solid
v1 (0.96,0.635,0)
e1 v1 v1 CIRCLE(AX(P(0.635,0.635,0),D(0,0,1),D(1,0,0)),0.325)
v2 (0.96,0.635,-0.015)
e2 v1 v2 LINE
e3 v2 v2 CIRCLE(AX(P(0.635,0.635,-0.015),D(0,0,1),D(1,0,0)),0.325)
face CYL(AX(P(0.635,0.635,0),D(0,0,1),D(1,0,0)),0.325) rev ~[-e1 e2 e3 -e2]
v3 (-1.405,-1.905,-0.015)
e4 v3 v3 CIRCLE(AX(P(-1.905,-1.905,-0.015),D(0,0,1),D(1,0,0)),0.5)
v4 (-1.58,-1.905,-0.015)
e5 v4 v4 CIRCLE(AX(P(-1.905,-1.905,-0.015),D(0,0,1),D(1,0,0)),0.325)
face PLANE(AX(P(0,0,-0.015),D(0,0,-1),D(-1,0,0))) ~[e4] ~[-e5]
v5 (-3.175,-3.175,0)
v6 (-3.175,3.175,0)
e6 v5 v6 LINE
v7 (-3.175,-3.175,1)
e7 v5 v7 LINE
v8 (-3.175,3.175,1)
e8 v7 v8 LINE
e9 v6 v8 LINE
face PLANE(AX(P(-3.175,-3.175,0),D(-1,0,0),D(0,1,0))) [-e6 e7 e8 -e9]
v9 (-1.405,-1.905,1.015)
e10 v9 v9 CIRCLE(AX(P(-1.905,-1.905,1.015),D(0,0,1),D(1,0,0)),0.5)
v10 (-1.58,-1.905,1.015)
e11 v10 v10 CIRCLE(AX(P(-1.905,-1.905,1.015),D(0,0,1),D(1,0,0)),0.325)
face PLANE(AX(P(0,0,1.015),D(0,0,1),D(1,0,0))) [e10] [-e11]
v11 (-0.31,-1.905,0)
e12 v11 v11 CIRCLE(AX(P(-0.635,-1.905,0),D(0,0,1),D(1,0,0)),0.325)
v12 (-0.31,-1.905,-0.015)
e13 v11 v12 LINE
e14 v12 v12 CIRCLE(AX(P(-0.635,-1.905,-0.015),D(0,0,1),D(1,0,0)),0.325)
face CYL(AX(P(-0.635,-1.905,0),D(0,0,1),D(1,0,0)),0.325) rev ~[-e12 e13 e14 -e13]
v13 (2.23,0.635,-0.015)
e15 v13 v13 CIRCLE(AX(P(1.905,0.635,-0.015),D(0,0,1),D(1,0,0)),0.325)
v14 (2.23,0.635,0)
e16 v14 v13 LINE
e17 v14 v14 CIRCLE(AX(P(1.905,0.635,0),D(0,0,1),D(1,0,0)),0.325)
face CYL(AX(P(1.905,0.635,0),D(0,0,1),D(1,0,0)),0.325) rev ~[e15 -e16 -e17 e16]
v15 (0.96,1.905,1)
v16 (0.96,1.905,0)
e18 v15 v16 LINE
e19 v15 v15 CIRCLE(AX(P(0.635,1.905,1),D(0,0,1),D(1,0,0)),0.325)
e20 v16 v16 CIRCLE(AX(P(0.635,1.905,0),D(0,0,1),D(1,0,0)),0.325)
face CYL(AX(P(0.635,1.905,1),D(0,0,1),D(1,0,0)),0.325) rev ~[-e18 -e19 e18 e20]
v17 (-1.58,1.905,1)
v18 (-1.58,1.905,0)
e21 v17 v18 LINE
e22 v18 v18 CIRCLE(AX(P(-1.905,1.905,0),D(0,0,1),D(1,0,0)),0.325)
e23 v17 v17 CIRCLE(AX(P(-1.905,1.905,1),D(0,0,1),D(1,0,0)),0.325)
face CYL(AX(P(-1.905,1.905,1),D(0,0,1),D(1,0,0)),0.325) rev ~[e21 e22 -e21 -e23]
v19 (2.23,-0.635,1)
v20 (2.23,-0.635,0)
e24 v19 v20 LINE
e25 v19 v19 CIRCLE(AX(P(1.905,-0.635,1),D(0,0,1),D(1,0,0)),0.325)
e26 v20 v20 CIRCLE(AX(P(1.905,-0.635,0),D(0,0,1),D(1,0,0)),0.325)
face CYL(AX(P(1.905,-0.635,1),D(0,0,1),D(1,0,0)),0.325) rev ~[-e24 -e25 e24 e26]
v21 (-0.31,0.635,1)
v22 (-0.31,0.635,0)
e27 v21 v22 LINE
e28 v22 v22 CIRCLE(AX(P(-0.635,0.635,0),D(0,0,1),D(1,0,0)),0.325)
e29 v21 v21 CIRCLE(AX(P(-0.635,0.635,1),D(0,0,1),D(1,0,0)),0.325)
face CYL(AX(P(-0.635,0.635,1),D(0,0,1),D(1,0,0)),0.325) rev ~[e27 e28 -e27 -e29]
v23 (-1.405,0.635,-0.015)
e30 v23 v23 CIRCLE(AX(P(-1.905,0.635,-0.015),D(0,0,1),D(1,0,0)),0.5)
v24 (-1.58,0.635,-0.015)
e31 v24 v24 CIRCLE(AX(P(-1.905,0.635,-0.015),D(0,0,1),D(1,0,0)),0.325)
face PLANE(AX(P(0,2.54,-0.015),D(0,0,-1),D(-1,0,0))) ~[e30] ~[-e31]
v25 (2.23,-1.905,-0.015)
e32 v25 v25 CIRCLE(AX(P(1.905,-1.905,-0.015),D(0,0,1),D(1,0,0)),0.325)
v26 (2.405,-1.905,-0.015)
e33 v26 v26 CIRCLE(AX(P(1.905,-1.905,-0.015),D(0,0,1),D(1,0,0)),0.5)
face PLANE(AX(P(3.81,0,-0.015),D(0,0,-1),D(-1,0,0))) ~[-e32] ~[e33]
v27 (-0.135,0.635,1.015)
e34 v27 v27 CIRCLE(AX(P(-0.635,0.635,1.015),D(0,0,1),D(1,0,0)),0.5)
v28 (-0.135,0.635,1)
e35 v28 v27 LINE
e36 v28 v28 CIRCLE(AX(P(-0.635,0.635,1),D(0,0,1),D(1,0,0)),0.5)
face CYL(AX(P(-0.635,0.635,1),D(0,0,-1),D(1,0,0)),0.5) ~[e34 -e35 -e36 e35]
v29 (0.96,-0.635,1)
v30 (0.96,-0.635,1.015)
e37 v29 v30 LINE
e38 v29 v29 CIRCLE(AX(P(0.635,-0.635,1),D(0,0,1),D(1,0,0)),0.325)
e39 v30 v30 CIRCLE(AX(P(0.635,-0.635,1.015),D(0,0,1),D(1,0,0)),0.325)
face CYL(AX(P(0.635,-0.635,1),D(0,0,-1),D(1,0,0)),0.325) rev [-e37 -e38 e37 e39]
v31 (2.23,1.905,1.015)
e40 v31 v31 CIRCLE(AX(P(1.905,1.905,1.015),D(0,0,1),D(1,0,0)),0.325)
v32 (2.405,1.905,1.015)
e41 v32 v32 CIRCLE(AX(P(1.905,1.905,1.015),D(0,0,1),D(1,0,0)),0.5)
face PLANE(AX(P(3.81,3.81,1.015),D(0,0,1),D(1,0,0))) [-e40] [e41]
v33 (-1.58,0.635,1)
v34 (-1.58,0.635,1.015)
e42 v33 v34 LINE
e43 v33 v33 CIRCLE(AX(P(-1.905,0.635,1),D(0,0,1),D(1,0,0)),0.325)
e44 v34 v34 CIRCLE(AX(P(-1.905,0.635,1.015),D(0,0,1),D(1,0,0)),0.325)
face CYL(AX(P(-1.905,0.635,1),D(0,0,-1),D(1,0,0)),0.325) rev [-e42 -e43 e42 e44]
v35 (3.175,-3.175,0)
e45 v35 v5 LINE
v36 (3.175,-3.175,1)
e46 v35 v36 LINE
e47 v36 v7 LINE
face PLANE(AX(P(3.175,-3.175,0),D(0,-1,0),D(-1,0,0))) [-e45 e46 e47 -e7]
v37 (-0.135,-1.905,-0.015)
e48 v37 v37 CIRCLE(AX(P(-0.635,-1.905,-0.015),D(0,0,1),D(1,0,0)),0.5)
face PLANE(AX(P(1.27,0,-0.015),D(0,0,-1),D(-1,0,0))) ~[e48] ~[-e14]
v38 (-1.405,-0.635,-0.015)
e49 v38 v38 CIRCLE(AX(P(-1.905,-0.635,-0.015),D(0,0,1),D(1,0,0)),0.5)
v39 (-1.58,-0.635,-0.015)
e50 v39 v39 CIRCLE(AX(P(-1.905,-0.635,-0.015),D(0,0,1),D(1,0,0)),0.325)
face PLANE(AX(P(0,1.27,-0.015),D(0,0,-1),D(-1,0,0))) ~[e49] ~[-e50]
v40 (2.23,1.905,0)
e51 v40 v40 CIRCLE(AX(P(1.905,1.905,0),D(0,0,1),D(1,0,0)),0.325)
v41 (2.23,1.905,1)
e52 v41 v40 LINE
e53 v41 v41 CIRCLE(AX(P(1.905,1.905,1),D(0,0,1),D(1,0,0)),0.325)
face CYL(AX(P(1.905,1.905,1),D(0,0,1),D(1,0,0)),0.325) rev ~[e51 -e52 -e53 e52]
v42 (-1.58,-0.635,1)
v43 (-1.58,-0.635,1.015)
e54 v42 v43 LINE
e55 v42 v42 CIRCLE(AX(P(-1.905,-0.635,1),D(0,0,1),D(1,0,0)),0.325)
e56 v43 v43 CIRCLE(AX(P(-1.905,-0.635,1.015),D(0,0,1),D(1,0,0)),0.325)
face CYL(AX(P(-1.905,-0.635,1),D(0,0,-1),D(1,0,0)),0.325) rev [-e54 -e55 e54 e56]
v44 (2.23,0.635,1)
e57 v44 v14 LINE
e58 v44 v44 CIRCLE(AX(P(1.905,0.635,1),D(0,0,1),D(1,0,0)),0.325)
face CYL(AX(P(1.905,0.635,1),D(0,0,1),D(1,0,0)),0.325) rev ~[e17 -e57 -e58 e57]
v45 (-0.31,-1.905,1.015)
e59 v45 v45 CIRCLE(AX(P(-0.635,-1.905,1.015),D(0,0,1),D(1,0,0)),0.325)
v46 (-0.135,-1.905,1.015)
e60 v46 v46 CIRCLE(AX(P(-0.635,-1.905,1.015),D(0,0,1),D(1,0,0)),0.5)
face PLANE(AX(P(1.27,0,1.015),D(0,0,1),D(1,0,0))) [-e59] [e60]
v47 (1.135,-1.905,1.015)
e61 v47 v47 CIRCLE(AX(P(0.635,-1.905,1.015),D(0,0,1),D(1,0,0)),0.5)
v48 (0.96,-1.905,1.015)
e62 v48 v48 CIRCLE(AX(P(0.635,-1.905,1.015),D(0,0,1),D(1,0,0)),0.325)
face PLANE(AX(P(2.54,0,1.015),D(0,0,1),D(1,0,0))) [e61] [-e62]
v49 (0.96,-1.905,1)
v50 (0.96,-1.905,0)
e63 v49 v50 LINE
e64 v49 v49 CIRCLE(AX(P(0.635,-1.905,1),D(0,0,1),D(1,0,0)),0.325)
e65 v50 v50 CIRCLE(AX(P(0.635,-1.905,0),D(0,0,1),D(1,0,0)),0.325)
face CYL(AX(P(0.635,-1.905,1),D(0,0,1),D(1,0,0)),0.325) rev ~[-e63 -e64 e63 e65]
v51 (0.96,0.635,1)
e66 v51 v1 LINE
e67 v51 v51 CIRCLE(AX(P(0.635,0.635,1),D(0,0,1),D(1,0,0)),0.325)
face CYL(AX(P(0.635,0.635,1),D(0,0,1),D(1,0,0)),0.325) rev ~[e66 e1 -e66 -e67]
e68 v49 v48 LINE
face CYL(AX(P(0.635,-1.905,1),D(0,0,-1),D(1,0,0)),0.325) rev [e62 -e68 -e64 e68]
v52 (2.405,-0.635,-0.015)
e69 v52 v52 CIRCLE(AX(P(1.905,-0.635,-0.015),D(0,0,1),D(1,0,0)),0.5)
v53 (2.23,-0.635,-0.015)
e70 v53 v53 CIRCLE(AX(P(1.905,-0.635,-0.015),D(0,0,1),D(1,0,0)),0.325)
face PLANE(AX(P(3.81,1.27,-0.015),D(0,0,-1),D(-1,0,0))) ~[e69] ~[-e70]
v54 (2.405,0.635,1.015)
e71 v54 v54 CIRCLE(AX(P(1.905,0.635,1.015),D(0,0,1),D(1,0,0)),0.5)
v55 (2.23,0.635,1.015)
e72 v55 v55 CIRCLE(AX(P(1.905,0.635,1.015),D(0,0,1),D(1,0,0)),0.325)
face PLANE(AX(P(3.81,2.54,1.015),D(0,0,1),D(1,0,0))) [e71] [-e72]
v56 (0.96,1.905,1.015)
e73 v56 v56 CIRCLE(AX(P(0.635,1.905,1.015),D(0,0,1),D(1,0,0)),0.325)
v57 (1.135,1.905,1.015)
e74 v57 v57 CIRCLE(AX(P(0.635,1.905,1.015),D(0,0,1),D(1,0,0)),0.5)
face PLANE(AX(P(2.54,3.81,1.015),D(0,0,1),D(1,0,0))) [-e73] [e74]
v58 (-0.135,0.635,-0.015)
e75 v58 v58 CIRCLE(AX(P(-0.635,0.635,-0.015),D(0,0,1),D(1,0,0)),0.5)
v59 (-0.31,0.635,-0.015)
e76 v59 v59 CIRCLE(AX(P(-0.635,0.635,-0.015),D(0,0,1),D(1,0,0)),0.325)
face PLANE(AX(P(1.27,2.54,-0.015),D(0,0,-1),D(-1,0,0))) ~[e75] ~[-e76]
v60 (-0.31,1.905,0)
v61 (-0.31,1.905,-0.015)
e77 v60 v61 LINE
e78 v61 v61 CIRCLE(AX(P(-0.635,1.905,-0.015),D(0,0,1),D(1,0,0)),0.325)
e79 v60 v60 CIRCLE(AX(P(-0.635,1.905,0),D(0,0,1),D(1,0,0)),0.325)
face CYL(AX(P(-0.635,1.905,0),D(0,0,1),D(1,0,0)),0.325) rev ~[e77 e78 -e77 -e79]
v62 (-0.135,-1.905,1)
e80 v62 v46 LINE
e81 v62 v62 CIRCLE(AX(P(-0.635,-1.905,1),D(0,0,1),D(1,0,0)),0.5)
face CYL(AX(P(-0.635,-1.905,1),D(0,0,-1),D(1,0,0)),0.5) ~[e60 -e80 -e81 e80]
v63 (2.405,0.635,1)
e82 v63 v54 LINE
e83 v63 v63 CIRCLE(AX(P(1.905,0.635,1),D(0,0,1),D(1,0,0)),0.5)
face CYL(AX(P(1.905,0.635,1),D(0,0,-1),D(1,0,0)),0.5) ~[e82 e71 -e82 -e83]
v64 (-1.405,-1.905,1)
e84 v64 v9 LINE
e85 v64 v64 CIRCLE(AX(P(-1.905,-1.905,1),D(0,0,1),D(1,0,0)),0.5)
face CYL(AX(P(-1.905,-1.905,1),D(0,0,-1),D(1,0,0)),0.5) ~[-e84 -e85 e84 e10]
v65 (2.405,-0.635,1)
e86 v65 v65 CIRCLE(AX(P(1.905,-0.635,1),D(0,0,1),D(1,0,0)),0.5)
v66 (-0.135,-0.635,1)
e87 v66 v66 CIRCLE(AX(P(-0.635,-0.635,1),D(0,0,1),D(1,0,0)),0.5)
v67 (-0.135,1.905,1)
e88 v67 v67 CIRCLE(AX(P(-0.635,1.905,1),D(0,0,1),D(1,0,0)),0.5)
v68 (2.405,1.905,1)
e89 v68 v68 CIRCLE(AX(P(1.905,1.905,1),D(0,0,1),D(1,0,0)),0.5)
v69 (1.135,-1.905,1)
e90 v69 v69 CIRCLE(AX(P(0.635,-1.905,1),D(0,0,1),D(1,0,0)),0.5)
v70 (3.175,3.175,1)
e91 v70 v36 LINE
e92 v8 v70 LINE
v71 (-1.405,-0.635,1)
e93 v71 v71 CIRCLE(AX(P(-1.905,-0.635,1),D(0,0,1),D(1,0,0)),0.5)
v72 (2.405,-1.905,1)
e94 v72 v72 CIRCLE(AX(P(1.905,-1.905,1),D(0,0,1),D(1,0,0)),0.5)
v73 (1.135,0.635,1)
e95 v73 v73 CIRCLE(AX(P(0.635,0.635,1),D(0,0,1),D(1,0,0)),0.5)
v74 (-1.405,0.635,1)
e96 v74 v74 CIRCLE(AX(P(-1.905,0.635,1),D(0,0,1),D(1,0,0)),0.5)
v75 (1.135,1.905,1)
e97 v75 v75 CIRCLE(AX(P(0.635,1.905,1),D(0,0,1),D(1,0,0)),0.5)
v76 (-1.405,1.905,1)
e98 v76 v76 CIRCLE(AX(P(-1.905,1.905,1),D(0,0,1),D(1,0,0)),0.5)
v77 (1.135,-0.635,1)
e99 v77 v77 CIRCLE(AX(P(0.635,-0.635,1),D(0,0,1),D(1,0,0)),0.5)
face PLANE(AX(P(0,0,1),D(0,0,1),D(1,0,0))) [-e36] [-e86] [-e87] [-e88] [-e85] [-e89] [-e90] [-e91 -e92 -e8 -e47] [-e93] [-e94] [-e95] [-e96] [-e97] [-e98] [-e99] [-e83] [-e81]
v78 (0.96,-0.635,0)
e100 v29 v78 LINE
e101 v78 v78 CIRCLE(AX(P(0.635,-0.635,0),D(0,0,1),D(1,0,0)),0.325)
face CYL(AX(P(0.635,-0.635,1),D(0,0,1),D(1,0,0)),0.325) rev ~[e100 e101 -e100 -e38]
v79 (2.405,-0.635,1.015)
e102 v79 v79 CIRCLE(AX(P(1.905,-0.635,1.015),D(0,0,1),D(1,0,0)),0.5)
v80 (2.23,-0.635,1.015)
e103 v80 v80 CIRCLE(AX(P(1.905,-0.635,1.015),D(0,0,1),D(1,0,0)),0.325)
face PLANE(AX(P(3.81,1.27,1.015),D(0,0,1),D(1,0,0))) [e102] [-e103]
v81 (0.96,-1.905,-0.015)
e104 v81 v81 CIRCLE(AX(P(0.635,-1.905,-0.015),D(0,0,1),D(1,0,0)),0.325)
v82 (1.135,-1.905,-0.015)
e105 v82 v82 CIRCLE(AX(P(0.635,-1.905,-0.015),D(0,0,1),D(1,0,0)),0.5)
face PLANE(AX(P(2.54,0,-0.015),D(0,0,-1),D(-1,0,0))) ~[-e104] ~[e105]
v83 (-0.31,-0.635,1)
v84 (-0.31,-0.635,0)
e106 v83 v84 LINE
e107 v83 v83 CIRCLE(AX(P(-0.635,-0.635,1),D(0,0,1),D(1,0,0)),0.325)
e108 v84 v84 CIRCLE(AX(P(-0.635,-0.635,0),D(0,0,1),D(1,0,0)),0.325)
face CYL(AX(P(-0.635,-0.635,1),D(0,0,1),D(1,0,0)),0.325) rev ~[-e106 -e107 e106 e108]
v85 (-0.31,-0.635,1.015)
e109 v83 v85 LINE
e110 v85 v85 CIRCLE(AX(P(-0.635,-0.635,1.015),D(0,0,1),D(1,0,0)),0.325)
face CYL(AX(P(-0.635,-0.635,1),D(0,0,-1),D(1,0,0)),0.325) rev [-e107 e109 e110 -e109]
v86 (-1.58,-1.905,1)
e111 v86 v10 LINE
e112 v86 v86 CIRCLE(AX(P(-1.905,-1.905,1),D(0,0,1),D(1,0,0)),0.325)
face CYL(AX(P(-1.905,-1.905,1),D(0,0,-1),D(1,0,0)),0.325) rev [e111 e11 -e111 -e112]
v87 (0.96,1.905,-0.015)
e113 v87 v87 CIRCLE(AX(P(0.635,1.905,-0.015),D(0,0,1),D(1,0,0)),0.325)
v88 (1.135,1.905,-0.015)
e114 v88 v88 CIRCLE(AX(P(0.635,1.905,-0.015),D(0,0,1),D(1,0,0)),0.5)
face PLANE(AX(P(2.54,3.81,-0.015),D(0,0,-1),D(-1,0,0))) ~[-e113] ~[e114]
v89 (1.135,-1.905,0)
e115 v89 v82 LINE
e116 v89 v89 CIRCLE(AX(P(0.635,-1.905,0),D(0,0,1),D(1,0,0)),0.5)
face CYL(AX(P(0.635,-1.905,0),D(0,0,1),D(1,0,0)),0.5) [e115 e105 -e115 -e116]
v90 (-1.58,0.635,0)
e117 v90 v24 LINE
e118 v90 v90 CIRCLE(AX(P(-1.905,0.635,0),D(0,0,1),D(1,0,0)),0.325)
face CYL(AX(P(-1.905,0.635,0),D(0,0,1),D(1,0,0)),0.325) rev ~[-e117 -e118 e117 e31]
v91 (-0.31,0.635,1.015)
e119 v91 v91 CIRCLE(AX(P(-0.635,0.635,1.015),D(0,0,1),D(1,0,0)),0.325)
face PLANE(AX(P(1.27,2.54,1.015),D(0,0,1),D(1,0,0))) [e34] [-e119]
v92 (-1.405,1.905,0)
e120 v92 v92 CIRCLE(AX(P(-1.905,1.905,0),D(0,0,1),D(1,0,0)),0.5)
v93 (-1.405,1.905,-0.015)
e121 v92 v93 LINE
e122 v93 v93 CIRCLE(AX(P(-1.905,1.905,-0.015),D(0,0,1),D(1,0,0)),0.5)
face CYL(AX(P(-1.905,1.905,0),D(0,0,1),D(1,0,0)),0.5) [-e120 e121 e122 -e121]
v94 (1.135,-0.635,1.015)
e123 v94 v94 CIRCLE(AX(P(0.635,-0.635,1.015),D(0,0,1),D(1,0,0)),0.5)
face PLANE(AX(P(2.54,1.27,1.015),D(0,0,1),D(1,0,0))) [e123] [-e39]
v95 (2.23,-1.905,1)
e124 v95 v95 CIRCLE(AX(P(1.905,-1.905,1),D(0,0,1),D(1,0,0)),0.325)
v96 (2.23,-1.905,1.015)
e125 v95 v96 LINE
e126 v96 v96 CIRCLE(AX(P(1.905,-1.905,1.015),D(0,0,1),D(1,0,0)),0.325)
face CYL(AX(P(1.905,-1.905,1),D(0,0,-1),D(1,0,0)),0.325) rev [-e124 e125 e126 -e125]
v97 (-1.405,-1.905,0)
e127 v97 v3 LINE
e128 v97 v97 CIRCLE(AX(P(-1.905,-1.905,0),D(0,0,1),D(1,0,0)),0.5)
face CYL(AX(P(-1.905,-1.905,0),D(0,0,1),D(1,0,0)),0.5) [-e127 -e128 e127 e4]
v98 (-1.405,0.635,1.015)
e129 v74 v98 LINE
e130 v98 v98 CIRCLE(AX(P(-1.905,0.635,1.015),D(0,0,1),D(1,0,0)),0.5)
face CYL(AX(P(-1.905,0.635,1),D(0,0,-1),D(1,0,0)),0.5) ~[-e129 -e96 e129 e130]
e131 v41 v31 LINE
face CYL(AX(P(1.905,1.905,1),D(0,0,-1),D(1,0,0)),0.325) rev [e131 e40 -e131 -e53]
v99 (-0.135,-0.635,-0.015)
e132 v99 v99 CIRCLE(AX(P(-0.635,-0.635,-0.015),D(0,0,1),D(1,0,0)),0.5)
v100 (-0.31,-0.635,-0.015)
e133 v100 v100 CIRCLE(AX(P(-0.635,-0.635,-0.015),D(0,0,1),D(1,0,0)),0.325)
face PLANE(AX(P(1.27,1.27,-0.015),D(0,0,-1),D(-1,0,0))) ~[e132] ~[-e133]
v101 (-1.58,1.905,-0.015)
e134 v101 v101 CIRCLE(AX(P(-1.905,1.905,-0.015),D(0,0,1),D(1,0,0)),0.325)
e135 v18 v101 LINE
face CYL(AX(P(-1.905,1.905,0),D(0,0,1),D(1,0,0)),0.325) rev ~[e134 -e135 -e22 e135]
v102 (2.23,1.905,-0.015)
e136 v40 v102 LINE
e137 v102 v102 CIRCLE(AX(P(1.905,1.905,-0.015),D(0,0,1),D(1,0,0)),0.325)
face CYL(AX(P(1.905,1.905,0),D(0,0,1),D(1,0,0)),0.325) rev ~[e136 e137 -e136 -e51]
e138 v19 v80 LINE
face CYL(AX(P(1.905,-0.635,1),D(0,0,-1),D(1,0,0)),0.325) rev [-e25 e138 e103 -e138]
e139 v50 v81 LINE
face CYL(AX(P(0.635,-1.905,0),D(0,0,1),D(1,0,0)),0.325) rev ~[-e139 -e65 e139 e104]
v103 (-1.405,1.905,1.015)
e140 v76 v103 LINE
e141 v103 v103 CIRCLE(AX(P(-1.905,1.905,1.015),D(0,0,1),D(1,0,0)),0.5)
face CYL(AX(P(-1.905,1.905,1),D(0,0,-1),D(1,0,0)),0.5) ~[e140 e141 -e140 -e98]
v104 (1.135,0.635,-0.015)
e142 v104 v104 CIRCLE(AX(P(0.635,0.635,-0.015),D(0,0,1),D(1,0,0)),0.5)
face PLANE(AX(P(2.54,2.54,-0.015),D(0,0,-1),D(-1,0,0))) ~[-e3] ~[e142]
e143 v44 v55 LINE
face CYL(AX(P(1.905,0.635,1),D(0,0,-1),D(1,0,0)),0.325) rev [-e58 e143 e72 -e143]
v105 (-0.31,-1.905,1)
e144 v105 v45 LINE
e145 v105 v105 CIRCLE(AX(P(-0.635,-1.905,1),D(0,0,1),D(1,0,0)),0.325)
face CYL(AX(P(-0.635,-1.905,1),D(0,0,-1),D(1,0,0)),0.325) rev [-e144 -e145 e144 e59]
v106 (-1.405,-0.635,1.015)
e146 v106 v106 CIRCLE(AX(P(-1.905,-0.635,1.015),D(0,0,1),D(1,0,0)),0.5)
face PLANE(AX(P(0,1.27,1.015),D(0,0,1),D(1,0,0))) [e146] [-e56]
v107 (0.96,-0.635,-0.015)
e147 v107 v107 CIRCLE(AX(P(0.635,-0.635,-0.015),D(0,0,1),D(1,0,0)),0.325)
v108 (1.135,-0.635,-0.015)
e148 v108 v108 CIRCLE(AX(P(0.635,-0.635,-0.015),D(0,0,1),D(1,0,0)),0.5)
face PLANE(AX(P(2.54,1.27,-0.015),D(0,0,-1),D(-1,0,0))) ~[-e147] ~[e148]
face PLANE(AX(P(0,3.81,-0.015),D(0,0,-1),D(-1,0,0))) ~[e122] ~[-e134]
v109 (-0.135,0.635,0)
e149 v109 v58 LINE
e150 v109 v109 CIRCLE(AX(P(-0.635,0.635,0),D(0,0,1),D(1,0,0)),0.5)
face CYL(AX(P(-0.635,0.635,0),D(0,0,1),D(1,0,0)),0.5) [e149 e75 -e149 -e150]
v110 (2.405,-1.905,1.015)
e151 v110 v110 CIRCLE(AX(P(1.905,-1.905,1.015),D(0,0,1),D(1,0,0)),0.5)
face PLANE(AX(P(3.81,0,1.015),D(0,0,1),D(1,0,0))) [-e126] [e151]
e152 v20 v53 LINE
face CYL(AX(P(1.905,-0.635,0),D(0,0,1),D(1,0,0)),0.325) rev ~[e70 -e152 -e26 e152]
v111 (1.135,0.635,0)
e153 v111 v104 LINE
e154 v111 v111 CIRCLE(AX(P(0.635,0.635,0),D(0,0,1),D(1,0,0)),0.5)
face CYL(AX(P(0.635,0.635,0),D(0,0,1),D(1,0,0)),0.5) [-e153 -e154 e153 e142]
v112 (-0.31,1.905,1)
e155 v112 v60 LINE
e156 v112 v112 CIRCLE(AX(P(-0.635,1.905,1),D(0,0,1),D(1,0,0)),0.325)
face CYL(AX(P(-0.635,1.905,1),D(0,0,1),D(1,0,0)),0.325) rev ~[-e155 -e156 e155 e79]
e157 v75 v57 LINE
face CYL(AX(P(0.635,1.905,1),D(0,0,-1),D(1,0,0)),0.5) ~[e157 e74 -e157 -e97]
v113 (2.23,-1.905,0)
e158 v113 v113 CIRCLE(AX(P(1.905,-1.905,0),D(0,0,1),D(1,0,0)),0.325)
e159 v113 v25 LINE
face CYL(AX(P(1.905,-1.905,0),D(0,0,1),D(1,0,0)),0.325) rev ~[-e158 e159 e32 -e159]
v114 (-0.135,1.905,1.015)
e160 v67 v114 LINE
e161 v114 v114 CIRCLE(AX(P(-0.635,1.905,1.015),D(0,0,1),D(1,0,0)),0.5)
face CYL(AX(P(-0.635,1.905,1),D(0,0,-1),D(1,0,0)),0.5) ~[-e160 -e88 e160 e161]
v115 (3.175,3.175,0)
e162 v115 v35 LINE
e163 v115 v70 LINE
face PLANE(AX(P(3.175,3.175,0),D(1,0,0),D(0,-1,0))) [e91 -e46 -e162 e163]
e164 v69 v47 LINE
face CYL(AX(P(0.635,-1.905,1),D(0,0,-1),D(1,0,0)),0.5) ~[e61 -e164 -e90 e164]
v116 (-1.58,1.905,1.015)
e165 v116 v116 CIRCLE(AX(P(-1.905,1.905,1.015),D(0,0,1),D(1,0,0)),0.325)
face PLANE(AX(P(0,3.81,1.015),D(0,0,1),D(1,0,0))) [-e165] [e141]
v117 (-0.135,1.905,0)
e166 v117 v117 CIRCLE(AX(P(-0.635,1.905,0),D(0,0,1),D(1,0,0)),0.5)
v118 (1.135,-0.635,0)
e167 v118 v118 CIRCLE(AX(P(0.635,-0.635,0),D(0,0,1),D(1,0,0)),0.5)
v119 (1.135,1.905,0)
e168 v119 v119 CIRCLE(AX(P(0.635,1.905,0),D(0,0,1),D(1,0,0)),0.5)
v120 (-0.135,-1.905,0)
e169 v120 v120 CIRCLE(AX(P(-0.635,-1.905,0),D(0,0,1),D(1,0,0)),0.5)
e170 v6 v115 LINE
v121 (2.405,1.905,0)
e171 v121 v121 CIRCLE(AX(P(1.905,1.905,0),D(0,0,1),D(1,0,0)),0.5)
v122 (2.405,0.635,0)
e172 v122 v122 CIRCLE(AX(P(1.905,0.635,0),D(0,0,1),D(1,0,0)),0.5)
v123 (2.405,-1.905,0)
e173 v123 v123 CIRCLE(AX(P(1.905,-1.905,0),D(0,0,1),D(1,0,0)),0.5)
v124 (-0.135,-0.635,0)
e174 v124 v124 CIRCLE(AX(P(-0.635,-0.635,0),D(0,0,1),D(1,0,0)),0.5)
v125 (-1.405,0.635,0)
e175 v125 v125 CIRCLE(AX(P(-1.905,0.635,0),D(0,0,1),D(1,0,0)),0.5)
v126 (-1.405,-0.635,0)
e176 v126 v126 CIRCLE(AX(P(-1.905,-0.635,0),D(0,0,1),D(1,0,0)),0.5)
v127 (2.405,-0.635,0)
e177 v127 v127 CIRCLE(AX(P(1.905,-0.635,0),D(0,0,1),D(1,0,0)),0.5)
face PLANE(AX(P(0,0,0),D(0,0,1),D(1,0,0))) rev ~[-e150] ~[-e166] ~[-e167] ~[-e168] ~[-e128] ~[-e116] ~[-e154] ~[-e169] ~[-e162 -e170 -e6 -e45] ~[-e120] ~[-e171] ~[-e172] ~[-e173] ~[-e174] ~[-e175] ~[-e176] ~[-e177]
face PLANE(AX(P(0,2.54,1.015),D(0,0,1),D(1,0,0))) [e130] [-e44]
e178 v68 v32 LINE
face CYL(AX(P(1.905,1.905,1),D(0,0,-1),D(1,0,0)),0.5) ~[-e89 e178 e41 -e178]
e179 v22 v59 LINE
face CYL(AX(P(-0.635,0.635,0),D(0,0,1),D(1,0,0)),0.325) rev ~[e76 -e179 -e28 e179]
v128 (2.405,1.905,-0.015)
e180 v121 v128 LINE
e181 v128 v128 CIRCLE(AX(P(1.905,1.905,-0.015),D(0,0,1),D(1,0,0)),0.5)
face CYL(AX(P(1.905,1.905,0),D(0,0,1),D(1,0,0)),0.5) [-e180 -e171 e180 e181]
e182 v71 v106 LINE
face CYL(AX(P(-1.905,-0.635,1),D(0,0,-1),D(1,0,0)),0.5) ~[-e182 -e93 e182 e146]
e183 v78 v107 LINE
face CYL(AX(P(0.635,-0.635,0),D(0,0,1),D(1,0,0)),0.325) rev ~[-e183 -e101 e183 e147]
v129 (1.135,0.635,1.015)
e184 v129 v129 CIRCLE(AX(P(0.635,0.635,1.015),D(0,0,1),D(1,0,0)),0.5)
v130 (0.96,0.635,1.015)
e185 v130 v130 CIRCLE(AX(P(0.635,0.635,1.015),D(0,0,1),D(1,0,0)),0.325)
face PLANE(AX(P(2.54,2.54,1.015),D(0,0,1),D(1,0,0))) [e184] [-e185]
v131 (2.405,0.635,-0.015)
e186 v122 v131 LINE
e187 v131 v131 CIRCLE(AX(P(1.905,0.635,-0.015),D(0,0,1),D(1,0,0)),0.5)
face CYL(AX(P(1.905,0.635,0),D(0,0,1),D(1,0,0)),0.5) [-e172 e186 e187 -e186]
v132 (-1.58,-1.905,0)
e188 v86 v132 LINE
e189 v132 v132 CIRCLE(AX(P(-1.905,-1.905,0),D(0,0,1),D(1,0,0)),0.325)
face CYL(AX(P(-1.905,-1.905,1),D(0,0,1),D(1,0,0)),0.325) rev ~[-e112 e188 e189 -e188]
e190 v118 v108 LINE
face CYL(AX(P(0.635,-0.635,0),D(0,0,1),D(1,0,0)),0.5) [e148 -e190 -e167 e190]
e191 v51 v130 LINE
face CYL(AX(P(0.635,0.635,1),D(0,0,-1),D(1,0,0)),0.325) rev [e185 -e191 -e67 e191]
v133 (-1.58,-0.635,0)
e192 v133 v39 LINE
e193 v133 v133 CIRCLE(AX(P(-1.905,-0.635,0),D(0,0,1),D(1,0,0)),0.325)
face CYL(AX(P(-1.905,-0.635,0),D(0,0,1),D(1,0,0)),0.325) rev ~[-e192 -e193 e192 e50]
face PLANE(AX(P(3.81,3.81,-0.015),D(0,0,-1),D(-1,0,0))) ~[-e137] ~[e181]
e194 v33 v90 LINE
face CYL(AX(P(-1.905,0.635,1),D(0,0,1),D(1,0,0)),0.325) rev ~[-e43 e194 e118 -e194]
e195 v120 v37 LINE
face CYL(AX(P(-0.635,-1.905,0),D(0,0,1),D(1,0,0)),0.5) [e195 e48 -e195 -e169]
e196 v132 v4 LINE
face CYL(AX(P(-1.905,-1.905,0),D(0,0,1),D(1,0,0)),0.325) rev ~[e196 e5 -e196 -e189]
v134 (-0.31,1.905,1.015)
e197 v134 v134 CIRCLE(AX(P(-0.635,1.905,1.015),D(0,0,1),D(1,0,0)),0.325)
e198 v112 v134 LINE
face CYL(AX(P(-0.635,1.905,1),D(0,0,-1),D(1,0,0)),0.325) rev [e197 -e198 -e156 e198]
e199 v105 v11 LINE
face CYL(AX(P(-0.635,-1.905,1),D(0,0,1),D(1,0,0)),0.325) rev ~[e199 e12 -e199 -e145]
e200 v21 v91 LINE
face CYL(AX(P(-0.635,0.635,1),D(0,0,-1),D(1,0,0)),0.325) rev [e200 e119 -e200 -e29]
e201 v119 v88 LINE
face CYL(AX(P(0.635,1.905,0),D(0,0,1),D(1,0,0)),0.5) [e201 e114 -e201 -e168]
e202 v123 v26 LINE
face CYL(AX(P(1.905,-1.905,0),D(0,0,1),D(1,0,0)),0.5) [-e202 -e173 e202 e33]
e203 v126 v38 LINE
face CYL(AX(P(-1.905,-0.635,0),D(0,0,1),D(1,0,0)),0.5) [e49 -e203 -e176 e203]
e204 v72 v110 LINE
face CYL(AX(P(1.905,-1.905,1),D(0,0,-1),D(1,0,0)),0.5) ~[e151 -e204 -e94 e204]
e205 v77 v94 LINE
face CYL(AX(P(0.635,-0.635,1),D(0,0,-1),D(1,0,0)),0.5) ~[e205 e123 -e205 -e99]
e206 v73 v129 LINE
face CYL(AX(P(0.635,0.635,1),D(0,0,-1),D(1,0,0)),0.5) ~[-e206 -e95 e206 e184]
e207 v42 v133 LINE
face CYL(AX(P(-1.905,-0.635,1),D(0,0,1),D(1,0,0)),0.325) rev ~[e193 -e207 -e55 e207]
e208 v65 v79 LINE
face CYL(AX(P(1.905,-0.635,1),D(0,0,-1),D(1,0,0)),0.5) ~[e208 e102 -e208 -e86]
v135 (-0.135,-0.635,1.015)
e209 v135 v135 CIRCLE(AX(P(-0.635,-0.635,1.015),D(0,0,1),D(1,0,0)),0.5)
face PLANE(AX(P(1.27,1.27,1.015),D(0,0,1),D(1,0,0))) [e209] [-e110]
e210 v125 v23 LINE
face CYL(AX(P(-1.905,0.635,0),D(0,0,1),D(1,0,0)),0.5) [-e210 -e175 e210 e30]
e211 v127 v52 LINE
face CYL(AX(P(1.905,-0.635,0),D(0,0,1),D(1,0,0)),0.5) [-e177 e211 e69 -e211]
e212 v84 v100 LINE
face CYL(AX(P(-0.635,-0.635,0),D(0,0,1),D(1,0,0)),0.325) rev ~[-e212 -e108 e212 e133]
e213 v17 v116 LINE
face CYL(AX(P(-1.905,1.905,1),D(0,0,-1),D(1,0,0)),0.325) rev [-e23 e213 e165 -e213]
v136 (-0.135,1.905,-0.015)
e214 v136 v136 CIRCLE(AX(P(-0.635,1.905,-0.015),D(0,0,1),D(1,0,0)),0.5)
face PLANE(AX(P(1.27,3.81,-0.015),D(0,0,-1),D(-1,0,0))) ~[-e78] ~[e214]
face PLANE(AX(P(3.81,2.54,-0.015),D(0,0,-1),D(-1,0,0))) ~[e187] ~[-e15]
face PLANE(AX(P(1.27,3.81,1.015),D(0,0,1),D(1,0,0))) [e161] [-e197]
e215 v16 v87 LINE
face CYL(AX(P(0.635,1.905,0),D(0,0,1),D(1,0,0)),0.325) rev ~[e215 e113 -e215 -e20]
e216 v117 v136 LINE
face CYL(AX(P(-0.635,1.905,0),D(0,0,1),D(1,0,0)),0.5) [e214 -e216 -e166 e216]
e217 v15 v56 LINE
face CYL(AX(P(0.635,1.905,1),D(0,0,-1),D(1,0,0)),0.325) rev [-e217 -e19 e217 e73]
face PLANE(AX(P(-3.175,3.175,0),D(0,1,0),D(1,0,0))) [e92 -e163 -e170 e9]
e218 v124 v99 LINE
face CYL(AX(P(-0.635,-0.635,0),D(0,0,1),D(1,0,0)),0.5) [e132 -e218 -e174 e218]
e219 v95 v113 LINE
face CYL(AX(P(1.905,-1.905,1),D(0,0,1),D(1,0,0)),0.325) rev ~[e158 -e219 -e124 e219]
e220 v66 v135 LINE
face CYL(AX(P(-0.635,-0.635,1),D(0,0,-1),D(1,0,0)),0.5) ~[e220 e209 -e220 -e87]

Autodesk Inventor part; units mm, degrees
ref_plane "YZ Plane" through (0, 0, 0) normal (1, 0, 0) x (0, 1, 0)
ref_plane "XZ Plane" through (0, 0, 0) normal (0, 1, 0) x (-1, 0, 0)
sketch "Sketch1" plane through (0, 0, 0) normal (0, 0, 1) x (1, 0, 0)
  line L0 (-3.175, 3.175) -> (3.175, 3.175)
  line L1 (3.175, 3.175) -> (3.175, -3.175)
  line L2 (3.175, -3.175) -> (-3.175, -3.175)
  line L3 (-3.175, -3.175) -> (-3.175, 3.175)
  line L4 (-3.175, 3.175) -> (3.175, -3.175) construction
  line L5 (3.175, 3.175) -> (-3.175, -3.175) construction
  point P0 (0, 0)
  dimension "d0" = 6.35
  dimension "d1" = 6.35
extrude "Extrusion1" add sketch "Sketch1" along normal blind 1
sketch "Sketch2" plane through (0, 0, 1) normal (0, 0, 1) x (1, 0, 0)
  circle A0 centre (-1.905, -1.905) radius 0.325
  line L0 (-3.175, 3.175) -> (-3.175, -3.175) projected
  line L1 (-3.175, -3.175) -> (3.175, -3.175) projected
  point P0 (0, 0)
  dimension "d4" = 0.65
  dimension "d5" = 1.27
  dimension "d6" = 1.27
extrude "Extrusion2" cut sketch "Sketch2" against normal through all
sketch "Sketch3" plane through (0, 0, 1) normal (0, 0, 1) x (1, 0, 0)
  circle A0 centre (-1.905, -1.905) radius 0.325 projected
  circle A1 centre (-1.905, -1.905) radius 0.5
  point P0 (0, 0)
  dimension "d15" = 1
extrude "Extrusion3" add sketch "Sketch3" along normal blind 0.015
ref_plane "Work Plane1" through (0, 0, 0.5) normal (0, 0, 1) x (1, 0, 0)
pattern_linear "Rectangular Pattern3" count 4 spacing 1.27 along (1, 0, 0) count 4 spacing 1.27 along (0, 1, 0) of "Extrusion2"
pattern_linear "Rectangular Pattern4" count 4 spacing 1.27 along (1, 0, 0) count 4 spacing 1.27 along (0, 1, 0) of "Extrusion3"
mirror "Mirror2" about plane through (0, 0, 0.5) normal (0, 0, 1) of "Extrusion3", "Rectangular Pattern4"
equation "\"BendRadius\" = Thickness"
equation "\"BendReliefWidth\" = Thickness"
equation "\"BendReliefDepth\" = 0.5 * Thickness"
equation "\"CornerReliefSize\" = 4 * Thickness"
equation "\"MinimumRemnant\" = 2 * Thickness"
equation "\"TransitionRadius\" = BendRadius"
equation "\"JacobiRadiusSize\" = BendRadius"
equation "\"GapSize\" = Thickness"
equation "\"Thickness\" = 3.048"
properties part number "1.27mmpitchProtoboardDesign.ipt_.25inch_.25Inch"
